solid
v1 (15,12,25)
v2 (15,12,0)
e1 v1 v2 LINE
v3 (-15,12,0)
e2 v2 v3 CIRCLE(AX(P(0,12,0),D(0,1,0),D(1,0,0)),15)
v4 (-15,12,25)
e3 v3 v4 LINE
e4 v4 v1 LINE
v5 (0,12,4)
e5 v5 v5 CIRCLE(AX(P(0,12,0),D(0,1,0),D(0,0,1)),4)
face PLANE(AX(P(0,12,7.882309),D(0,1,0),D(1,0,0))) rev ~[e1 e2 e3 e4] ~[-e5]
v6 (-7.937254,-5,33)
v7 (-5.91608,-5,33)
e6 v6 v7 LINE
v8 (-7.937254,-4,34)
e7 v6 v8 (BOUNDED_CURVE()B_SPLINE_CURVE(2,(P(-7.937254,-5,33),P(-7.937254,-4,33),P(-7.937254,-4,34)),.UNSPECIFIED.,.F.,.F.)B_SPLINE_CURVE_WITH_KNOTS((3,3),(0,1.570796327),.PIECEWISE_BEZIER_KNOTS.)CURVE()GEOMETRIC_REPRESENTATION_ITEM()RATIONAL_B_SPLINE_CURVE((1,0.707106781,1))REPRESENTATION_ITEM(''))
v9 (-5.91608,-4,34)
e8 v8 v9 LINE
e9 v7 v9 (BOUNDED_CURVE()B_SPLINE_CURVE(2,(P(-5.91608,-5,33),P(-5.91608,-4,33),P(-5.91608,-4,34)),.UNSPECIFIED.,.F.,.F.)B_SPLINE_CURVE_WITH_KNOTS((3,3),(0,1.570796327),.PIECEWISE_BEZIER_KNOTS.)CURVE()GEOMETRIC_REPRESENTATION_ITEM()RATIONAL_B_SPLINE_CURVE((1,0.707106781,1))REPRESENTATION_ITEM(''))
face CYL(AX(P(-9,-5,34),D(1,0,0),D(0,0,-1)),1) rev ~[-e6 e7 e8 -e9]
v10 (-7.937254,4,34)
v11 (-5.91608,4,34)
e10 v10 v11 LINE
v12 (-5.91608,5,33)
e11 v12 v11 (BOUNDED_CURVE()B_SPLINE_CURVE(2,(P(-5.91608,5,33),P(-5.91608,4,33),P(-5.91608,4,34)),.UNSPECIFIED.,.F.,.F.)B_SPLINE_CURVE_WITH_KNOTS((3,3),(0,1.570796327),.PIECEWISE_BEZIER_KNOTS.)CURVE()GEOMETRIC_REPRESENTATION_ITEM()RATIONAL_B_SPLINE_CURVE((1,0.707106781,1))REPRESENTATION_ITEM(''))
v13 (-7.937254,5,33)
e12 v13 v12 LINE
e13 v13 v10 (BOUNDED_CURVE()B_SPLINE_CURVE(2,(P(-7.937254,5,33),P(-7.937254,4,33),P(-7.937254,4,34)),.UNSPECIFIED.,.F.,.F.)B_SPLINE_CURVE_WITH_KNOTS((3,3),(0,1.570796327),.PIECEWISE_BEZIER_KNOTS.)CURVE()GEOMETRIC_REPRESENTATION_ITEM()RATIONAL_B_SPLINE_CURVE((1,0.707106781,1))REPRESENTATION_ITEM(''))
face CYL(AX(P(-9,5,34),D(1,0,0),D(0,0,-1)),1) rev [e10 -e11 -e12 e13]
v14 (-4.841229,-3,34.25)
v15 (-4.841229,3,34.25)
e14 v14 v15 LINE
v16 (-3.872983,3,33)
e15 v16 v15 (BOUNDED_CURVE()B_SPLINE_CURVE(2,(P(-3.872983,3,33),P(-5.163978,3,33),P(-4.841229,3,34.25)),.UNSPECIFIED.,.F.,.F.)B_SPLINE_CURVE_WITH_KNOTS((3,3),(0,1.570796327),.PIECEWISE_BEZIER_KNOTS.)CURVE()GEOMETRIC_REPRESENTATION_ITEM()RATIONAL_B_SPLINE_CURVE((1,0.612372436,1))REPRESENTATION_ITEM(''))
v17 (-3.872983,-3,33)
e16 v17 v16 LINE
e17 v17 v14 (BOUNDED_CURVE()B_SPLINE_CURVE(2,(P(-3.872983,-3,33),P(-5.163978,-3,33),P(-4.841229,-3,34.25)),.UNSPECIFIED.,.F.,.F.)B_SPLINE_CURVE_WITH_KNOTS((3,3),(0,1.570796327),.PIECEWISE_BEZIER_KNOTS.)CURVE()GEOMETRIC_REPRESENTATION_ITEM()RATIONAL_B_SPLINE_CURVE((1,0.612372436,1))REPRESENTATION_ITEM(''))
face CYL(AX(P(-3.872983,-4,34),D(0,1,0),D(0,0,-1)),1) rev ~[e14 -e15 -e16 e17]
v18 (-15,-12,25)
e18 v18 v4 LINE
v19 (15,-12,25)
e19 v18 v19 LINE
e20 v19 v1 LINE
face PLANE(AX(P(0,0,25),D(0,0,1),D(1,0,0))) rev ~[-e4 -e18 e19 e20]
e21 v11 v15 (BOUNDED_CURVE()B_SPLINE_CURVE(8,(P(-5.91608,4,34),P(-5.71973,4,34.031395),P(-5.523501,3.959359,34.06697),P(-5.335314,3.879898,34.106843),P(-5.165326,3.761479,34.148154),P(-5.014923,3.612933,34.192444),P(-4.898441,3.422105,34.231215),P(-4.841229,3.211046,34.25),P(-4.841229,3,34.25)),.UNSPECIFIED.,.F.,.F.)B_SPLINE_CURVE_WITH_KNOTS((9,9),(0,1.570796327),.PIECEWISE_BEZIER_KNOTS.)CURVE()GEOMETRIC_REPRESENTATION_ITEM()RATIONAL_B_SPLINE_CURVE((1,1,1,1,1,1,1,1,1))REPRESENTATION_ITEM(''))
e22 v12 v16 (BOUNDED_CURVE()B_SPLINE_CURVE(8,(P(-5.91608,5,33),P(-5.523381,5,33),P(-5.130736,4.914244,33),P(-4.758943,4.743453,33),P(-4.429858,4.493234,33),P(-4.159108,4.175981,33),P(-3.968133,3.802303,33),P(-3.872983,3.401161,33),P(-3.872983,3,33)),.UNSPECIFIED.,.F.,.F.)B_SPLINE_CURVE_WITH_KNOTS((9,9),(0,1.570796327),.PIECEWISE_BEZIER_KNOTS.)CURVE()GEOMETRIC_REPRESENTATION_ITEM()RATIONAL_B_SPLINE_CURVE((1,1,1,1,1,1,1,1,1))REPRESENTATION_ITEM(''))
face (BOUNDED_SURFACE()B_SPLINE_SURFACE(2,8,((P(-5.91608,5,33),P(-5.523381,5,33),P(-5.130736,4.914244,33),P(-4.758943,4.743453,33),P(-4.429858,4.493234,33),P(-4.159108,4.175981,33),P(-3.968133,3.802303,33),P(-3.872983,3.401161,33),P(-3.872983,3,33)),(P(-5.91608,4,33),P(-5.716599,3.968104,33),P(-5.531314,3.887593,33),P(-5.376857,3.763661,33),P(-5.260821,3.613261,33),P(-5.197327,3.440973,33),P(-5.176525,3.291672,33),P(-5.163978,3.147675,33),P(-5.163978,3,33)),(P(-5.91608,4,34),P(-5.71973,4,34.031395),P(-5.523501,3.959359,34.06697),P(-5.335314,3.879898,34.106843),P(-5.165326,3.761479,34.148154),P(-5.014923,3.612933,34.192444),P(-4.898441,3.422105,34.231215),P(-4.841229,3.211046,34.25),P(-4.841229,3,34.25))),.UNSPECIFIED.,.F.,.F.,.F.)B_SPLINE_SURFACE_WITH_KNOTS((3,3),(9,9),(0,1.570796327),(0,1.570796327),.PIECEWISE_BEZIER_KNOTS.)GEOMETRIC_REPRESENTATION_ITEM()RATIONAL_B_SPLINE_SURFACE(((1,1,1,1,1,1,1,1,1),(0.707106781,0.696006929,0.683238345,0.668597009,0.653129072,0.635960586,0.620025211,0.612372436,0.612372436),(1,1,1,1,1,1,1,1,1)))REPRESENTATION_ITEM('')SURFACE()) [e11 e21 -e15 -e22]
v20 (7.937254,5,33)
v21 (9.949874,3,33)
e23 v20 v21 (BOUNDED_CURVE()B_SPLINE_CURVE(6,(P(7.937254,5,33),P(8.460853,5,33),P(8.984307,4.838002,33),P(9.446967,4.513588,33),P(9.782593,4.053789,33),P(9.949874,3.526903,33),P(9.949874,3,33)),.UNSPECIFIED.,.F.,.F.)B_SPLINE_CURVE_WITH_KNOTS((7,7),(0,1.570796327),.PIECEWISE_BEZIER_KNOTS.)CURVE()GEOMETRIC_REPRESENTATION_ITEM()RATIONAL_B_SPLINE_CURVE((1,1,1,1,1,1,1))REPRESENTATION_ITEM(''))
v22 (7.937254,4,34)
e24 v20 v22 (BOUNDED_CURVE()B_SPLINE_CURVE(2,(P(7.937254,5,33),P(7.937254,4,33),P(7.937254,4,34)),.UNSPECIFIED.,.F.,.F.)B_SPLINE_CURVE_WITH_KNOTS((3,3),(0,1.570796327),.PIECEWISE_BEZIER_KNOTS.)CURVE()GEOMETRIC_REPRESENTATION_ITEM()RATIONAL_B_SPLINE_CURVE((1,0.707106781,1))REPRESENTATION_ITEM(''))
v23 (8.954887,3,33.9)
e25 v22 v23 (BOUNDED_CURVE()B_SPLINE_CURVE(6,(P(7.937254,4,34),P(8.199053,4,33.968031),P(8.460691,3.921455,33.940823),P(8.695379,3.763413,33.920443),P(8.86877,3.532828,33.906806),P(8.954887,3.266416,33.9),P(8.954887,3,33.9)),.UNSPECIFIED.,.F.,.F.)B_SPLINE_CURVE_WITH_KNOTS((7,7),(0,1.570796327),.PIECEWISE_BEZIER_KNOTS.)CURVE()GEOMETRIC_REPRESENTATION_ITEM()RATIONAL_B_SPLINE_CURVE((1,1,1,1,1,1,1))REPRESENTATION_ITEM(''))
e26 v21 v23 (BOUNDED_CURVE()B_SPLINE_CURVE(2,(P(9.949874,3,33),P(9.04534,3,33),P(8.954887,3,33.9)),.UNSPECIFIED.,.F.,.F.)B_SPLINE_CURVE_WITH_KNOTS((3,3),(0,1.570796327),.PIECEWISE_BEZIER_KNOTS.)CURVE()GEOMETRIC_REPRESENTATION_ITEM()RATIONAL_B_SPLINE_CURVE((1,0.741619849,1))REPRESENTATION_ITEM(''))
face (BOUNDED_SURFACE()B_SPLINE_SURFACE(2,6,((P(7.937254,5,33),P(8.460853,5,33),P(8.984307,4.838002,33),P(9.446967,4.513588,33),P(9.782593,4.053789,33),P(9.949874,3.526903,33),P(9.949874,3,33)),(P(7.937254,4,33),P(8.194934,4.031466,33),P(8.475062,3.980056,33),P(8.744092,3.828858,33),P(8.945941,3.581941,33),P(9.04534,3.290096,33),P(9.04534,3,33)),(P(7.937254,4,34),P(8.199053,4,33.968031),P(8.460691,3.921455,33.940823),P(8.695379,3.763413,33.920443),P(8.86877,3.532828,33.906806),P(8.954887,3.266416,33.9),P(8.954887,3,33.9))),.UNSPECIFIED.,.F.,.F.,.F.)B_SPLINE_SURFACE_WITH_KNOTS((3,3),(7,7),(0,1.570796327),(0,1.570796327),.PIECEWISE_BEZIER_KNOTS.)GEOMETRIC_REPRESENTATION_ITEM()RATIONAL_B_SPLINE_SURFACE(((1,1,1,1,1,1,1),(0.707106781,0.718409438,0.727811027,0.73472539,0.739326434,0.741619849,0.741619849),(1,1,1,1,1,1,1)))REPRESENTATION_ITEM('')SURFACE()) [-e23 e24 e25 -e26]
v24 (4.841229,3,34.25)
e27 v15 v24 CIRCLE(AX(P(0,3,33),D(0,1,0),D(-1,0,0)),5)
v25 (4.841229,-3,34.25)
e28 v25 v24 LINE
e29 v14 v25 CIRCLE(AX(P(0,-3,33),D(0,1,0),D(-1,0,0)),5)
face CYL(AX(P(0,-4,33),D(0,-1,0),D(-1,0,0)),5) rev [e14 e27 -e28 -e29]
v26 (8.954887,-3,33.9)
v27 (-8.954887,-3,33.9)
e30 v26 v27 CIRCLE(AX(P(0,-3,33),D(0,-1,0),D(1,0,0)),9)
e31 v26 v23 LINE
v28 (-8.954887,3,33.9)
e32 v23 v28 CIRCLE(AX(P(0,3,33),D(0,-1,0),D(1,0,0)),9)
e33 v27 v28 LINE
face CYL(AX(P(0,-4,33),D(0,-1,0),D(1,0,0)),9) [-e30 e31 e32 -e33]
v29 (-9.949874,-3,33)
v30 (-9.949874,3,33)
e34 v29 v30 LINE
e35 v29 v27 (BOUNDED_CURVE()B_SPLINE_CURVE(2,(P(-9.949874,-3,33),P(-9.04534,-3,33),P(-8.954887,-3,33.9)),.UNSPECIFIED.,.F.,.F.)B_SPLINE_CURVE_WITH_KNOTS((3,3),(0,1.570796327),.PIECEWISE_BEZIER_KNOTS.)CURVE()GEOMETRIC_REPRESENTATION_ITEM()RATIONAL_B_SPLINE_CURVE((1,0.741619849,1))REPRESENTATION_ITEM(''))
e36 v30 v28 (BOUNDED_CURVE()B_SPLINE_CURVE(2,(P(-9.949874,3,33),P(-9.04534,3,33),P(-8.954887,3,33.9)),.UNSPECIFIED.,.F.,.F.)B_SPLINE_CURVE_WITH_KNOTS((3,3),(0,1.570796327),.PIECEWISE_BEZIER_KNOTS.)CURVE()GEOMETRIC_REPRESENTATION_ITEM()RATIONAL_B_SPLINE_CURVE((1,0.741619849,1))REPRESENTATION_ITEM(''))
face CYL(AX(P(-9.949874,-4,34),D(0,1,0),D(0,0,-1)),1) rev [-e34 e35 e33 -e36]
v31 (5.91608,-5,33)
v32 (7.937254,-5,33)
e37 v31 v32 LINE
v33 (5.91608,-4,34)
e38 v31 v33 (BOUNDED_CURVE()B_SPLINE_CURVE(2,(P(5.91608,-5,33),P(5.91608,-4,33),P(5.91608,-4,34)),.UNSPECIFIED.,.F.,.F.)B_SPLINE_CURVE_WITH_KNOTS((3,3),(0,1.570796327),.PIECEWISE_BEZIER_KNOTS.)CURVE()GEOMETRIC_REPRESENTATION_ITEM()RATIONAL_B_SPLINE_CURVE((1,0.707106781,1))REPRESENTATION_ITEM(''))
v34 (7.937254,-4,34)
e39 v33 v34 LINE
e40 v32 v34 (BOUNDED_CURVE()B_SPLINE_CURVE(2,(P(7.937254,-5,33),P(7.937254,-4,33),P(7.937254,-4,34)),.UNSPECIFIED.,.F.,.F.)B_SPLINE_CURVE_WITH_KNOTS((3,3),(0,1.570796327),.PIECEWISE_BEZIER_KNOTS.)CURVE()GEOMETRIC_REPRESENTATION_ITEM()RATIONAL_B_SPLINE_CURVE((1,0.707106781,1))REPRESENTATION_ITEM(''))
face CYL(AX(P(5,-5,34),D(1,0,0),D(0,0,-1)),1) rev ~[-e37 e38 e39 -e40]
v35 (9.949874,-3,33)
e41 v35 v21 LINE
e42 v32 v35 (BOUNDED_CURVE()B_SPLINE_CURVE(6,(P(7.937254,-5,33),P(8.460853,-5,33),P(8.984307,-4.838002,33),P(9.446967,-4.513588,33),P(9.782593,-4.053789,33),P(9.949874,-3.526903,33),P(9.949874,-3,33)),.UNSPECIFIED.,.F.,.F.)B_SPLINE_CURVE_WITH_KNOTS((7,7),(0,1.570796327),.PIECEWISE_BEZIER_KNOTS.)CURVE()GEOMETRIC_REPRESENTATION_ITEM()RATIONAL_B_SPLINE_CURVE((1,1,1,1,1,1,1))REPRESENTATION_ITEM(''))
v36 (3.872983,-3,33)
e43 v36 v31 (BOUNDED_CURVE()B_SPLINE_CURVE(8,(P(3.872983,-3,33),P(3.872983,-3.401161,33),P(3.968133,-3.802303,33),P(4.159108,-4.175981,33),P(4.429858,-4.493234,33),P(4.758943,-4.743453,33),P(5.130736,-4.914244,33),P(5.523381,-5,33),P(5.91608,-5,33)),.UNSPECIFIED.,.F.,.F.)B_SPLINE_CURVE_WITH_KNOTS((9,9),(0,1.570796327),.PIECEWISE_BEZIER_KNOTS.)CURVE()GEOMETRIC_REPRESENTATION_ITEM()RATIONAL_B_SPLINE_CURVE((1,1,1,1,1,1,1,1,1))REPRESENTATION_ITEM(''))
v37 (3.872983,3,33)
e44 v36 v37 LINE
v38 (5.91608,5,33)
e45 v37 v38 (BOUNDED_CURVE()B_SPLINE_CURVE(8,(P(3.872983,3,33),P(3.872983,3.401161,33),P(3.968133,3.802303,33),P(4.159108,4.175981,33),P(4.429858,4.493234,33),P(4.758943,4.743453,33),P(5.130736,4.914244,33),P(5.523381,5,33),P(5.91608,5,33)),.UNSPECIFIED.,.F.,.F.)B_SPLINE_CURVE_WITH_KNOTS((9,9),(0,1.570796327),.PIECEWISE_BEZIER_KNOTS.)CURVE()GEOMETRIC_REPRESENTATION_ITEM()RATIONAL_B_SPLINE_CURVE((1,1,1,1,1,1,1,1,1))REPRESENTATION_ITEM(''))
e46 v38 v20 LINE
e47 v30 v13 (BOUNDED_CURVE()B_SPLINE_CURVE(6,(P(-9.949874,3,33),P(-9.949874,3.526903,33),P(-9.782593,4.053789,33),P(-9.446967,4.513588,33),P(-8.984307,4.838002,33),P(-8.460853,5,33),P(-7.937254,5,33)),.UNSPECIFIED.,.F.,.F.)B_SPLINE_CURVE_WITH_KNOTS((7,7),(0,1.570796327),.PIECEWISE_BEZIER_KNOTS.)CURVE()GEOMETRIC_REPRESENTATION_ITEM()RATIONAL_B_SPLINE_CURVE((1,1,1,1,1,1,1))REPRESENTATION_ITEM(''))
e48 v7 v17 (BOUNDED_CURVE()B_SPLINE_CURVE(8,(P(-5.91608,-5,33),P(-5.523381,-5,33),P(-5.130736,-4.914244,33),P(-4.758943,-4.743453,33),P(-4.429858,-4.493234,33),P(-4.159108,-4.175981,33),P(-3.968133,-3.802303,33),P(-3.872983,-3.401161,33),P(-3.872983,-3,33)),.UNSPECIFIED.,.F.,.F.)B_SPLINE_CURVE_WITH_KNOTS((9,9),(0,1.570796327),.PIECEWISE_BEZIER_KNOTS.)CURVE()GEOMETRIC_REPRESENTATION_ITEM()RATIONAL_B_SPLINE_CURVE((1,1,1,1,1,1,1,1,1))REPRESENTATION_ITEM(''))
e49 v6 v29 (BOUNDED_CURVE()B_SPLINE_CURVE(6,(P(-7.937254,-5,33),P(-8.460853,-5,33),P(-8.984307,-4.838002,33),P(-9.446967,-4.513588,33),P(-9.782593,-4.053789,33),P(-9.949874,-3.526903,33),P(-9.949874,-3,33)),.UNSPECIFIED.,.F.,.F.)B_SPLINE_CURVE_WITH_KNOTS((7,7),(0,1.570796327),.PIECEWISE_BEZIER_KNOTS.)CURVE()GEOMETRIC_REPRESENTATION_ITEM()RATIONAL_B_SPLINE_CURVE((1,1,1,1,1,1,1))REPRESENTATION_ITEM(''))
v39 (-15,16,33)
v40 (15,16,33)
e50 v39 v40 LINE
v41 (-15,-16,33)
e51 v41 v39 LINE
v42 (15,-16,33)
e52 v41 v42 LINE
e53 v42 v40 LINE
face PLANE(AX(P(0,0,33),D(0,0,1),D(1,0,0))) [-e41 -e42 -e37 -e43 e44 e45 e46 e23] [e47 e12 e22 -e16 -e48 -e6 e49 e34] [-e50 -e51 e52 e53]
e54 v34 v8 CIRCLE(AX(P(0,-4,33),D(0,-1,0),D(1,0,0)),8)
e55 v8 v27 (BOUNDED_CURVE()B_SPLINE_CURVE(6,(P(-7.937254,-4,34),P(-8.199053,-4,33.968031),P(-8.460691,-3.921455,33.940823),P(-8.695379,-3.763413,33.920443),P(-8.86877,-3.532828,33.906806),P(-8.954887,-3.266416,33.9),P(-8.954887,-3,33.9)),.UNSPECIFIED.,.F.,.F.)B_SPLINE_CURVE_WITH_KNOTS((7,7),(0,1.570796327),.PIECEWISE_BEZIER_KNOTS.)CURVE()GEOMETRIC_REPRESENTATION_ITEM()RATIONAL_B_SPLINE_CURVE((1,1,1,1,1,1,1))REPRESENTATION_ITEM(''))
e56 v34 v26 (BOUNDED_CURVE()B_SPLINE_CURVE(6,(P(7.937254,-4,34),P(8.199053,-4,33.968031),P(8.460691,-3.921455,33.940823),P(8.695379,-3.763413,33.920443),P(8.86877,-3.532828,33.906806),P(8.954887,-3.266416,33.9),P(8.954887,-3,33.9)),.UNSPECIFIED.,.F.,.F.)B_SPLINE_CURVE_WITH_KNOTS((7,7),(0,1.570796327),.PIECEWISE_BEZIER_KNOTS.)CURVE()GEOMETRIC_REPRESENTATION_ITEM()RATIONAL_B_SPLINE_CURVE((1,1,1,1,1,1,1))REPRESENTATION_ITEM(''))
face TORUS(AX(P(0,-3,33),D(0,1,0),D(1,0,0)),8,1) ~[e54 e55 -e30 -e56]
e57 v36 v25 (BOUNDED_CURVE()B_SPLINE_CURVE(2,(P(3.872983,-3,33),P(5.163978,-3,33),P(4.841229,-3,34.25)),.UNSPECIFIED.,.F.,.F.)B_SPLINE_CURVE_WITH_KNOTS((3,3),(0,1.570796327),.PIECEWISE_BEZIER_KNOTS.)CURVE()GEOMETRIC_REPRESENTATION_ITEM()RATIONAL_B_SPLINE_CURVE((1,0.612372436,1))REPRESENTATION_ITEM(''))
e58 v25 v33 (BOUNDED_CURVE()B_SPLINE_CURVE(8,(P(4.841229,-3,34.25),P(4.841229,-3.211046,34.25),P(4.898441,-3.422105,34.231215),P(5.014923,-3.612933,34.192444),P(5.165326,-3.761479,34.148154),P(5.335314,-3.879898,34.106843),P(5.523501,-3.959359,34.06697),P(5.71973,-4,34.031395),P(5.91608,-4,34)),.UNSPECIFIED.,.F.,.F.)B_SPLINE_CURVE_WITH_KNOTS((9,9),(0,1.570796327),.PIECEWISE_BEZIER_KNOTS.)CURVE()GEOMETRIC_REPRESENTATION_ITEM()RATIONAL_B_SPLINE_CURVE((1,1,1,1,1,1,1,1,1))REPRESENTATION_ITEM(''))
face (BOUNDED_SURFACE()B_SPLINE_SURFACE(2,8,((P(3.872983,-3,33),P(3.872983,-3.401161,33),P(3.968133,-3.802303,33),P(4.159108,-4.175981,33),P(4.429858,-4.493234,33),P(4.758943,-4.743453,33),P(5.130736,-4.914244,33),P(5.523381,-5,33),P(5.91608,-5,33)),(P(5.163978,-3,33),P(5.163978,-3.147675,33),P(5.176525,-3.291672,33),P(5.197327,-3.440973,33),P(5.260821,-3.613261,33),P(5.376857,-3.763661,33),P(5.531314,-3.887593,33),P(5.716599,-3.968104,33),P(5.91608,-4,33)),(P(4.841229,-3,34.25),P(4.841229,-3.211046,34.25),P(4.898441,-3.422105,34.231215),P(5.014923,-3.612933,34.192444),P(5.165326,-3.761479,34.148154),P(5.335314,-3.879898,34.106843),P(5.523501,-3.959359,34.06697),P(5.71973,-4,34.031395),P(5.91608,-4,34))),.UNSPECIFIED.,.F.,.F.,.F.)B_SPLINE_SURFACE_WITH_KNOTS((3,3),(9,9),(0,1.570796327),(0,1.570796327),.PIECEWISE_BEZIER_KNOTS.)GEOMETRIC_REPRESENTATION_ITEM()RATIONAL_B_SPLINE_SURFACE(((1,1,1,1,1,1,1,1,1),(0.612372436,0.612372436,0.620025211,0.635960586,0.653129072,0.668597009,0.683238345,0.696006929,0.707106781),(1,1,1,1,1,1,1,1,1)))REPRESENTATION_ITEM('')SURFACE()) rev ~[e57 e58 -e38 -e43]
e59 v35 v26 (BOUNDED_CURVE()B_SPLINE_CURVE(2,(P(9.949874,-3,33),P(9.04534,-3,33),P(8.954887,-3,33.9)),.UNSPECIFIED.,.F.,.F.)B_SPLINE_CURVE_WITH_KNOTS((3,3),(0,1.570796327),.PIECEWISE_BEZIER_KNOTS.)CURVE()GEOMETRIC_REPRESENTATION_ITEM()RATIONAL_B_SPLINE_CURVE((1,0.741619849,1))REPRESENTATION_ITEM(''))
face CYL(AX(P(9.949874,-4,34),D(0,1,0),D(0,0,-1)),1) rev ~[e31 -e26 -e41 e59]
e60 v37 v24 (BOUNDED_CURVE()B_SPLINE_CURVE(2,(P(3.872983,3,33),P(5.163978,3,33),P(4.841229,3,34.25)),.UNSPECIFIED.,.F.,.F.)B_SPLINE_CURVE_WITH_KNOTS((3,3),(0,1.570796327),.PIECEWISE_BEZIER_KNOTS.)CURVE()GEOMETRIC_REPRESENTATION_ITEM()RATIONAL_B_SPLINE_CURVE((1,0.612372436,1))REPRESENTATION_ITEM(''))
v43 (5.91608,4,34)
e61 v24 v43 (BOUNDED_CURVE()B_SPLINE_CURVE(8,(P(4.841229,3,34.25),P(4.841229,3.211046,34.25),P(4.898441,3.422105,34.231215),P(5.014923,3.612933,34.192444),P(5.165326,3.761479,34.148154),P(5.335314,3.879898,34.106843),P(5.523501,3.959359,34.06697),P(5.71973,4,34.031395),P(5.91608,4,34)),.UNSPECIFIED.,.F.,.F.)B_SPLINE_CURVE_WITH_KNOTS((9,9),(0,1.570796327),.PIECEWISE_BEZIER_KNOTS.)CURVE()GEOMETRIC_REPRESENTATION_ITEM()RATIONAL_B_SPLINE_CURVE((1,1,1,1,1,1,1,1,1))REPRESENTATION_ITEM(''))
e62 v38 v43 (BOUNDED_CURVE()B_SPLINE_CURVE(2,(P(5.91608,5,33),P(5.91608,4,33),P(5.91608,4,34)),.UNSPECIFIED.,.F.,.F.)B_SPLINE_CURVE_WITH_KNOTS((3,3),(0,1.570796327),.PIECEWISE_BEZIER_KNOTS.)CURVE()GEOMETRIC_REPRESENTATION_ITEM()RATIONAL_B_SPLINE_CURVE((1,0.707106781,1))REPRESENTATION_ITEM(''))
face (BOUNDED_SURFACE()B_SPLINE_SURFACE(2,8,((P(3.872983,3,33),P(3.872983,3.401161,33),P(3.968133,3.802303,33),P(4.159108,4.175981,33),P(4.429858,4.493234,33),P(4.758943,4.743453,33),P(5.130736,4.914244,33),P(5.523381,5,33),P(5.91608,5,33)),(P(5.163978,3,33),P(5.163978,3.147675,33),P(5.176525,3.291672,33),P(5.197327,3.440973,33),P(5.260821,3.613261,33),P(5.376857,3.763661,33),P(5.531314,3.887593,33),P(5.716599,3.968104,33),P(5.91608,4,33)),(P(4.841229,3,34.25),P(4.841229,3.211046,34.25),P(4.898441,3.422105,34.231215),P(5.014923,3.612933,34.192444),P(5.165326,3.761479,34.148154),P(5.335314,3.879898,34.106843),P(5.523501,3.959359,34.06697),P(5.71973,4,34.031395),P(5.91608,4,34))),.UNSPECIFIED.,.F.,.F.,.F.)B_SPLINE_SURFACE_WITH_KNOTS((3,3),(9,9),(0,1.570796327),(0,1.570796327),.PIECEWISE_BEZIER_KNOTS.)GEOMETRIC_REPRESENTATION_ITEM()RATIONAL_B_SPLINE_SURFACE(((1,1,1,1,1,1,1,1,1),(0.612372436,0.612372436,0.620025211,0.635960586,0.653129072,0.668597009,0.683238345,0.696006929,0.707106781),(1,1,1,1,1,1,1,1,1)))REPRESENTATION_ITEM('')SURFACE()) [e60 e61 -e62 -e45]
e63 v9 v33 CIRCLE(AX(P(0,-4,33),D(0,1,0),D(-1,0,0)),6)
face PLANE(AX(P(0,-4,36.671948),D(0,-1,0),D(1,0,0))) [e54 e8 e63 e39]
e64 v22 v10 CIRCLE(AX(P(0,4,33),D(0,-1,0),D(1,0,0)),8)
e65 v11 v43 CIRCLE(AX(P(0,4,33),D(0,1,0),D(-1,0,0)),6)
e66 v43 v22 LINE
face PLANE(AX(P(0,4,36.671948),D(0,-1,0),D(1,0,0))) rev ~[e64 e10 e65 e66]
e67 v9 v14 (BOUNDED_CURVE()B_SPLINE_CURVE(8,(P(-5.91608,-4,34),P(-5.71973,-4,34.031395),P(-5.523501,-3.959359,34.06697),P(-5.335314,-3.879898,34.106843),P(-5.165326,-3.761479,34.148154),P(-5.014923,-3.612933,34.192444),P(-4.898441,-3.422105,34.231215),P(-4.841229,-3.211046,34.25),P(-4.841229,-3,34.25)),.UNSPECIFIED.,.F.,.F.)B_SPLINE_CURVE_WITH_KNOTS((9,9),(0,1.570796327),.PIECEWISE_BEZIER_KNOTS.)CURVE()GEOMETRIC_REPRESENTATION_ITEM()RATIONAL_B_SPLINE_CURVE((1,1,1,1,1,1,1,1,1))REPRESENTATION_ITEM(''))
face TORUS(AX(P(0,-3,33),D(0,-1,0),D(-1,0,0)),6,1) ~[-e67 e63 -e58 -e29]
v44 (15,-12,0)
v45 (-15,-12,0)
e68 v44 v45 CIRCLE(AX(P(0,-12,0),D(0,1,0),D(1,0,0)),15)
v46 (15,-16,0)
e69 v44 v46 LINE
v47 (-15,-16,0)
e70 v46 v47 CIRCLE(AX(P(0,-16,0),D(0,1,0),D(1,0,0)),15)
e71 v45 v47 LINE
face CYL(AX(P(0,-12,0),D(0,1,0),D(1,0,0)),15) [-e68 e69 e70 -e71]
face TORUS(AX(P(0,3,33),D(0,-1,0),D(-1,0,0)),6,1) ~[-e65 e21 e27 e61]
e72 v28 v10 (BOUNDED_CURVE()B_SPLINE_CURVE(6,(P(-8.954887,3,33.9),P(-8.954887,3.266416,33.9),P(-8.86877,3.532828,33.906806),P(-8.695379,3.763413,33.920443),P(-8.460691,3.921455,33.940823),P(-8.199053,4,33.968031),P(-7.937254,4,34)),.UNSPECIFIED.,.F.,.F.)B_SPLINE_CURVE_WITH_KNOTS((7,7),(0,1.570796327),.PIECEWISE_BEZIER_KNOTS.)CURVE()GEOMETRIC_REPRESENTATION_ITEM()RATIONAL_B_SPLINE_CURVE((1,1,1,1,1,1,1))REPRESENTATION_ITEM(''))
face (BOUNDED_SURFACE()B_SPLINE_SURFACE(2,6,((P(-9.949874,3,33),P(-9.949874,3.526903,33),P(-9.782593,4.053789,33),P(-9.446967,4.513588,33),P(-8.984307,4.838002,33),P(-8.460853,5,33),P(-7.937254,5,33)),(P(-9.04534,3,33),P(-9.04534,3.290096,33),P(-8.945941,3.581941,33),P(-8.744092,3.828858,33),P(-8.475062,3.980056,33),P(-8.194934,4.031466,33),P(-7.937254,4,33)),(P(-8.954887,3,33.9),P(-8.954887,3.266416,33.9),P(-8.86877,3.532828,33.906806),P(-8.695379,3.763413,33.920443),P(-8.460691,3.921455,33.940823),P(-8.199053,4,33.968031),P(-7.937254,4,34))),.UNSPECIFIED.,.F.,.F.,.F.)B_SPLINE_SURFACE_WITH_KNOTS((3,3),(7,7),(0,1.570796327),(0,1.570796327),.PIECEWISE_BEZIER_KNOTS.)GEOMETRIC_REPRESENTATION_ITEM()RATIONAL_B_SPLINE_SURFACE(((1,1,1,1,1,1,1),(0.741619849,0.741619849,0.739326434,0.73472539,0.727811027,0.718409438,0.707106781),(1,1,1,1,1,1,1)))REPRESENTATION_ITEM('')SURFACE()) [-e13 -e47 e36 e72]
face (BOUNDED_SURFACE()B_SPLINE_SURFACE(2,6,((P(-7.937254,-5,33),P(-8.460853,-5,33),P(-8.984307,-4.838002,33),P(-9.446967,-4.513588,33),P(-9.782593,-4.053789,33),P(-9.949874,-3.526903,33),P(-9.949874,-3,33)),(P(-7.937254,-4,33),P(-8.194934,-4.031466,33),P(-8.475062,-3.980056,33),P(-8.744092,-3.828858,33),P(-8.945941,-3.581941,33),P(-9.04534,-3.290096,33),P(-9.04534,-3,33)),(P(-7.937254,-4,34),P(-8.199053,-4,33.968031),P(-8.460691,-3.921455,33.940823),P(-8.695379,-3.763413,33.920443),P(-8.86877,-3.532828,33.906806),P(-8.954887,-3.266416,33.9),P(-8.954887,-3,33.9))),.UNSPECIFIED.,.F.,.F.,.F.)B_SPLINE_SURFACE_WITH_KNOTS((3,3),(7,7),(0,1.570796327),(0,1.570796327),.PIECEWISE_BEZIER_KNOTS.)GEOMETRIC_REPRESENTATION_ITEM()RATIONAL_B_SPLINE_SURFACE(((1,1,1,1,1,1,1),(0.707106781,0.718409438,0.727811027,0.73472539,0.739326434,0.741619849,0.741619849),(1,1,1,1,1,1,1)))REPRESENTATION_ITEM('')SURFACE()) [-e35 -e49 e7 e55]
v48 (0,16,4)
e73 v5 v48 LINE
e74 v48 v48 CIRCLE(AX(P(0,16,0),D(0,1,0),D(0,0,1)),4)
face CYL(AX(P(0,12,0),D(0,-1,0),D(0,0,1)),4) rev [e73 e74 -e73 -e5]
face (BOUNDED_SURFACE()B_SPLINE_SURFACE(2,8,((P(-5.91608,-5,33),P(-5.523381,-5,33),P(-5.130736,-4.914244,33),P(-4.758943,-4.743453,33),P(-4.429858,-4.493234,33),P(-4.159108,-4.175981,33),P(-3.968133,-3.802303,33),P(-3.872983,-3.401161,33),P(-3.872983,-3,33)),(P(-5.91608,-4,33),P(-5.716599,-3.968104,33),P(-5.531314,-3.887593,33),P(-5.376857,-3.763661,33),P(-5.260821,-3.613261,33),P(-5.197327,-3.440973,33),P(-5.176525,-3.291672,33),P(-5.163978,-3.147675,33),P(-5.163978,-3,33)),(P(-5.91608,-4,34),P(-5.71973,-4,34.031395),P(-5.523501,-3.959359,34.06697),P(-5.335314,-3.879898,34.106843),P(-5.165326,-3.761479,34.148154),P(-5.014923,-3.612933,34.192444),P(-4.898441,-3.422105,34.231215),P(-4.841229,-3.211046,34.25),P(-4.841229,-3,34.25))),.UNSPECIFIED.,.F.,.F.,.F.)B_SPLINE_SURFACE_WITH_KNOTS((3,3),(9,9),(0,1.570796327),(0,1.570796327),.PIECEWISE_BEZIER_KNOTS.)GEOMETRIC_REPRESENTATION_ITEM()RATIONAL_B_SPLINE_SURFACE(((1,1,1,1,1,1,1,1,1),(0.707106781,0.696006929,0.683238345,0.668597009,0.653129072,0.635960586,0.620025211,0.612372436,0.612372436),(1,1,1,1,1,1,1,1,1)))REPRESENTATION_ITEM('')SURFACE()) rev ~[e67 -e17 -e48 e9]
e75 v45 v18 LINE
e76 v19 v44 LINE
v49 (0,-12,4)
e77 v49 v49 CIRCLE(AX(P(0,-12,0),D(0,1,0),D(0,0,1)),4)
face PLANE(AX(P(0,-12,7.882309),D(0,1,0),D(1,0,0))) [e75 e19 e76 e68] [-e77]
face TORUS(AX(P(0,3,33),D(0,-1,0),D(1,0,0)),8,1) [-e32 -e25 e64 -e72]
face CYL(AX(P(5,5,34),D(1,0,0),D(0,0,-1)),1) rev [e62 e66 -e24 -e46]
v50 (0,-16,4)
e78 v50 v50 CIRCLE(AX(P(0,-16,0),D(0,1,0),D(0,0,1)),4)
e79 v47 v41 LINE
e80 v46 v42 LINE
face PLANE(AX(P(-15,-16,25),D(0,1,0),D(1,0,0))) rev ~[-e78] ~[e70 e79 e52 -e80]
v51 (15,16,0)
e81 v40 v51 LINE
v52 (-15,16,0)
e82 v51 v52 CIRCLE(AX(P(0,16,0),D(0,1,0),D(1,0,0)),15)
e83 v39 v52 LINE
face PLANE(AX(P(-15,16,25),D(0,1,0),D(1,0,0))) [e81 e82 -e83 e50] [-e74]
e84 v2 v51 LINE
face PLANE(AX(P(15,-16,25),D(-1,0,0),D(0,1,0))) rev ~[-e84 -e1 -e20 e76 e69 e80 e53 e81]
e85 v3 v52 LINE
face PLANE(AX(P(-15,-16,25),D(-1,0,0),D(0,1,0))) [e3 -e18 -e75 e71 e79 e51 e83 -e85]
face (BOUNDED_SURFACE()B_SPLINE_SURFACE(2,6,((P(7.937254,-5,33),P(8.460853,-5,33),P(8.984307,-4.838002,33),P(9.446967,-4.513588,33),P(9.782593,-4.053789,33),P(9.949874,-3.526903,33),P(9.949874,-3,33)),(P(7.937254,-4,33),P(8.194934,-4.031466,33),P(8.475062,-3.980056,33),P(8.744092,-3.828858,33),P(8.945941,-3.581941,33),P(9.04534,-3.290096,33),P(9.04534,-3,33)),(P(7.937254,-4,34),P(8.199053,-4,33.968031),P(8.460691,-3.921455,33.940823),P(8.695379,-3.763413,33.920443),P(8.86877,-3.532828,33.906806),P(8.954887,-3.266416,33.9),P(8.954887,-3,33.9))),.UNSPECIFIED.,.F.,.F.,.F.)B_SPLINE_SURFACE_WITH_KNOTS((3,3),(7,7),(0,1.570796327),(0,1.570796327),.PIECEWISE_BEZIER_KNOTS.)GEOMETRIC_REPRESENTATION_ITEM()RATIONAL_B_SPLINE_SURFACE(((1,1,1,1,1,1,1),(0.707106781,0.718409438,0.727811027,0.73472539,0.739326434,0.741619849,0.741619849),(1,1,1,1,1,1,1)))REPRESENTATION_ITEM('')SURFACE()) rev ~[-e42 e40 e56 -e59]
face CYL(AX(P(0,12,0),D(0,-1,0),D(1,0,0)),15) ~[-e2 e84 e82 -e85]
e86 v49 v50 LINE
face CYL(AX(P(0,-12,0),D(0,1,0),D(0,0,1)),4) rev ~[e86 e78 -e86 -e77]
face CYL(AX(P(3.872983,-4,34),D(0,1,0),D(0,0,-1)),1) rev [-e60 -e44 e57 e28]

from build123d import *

# Parameters (mm, degrees)
BOSS_EXTRUDE1_START = 12
SKETCH1_R           = 4
BOSS_EXTRUDE1_DEPTH = 4
BOSS_EXTRUDE2_START = -12
SKETCH1_2_R         = 4
BOSS_EXTRUDE2_DEPTH = 4
SKETCH2_W           = 30
SKETCH2_H           = 32
BOSS_EXTRUDE3_DEPTH = 8
BOSS_EXTRUDE4_START = -12
BOSS_EXTRUDE4_DEPTH = 8
FILLET1_R           = 1


with BuildPart() as part:
    # Sketch1 → Boss-Extrude1 (new body)
    with BuildSketch(Plane(origin=(0, 0, 0), x_dir=(1, 0, 0), z_dir=(0, 1, 0)).offset(BOSS_EXTRUDE1_START)):
        with BuildLine():
            Line((-15, 0), (-15, -25))
            Line((-15, -25), (15, -25))
            Line((15, -25), (15, 0))
            ThreePointArc((15, 0), (0, 15), (-15, 0))
        make_face()
        Circle(SKETCH1_R, mode=Mode.SUBTRACT)
    extrude(amount=BOSS_EXTRUDE1_DEPTH)



with BuildPart() as body_2:
    # Sketch1<2> → Boss-Extrude2 (new body)
    with BuildSketch(Plane(origin=(0, 0, 0), x_dir=(1, 0, 0), z_dir=(0, 1, 0)).offset(BOSS_EXTRUDE2_START)):
        with BuildLine():
            Line((-15, 0), (-15, -25))
            Line((-15, -25), (15, -25))
            Line((15, -25), (15, 0))
            ThreePointArc((15, 0), (0, 15), (-15, 0))
        make_face()
        Circle(SKETCH1_2_R, mode=Mode.SUBTRACT)
    extrude(amount=-BOSS_EXTRUDE2_DEPTH)


with BuildPart() as part_1:
    add(part.part)

    add(body_2.part)  # Boss-Extrude3 merges body 2
    # Sketch2 → Boss-Extrude3 (add)
    with BuildSketch(Plane.XY.offset(25)):
        Rectangle(SKETCH2_W, SKETCH2_H)
    extrude(amount=BOSS_EXTRUDE3_DEPTH)

    # Sketch3 → Boss-Extrude4 (add)
    with BuildSketch(Plane.XZ.offset(16).offset(BOSS_EXTRUDE4_START)):
        with BuildLine():
            ThreePointArc((9, 33), (0, 42), (-9, 33))
            Line((-9, 33), (-5, 33))
            ThreePointArc((-5, 33), (0, 38), (5, 33))
            Line((5, 33), (9, 33))
        make_face()
    extrude(amount=-BOSS_EXTRUDE4_DEPTH)

    # Fillet1
    fillet1_edges = [part_1.edges().sort_by_distance(p)[0] for p in [
        (-9, 0, 33),
        (0, 4, 42),
        (9, 0, 33),
        (0, -4, 42),
        (0, -4, 38),
        (0, 4, 38),
        (-7, -4, 33),
        (-7, 4, 33),
        (7, 4, 33),
        (7, -4, 33),
        (5, 0, 33),
        (-5, 0, 33),
    ]]
    fillet(fillet1_edges, radius=FILLET1_R)


solid = part_1.part
